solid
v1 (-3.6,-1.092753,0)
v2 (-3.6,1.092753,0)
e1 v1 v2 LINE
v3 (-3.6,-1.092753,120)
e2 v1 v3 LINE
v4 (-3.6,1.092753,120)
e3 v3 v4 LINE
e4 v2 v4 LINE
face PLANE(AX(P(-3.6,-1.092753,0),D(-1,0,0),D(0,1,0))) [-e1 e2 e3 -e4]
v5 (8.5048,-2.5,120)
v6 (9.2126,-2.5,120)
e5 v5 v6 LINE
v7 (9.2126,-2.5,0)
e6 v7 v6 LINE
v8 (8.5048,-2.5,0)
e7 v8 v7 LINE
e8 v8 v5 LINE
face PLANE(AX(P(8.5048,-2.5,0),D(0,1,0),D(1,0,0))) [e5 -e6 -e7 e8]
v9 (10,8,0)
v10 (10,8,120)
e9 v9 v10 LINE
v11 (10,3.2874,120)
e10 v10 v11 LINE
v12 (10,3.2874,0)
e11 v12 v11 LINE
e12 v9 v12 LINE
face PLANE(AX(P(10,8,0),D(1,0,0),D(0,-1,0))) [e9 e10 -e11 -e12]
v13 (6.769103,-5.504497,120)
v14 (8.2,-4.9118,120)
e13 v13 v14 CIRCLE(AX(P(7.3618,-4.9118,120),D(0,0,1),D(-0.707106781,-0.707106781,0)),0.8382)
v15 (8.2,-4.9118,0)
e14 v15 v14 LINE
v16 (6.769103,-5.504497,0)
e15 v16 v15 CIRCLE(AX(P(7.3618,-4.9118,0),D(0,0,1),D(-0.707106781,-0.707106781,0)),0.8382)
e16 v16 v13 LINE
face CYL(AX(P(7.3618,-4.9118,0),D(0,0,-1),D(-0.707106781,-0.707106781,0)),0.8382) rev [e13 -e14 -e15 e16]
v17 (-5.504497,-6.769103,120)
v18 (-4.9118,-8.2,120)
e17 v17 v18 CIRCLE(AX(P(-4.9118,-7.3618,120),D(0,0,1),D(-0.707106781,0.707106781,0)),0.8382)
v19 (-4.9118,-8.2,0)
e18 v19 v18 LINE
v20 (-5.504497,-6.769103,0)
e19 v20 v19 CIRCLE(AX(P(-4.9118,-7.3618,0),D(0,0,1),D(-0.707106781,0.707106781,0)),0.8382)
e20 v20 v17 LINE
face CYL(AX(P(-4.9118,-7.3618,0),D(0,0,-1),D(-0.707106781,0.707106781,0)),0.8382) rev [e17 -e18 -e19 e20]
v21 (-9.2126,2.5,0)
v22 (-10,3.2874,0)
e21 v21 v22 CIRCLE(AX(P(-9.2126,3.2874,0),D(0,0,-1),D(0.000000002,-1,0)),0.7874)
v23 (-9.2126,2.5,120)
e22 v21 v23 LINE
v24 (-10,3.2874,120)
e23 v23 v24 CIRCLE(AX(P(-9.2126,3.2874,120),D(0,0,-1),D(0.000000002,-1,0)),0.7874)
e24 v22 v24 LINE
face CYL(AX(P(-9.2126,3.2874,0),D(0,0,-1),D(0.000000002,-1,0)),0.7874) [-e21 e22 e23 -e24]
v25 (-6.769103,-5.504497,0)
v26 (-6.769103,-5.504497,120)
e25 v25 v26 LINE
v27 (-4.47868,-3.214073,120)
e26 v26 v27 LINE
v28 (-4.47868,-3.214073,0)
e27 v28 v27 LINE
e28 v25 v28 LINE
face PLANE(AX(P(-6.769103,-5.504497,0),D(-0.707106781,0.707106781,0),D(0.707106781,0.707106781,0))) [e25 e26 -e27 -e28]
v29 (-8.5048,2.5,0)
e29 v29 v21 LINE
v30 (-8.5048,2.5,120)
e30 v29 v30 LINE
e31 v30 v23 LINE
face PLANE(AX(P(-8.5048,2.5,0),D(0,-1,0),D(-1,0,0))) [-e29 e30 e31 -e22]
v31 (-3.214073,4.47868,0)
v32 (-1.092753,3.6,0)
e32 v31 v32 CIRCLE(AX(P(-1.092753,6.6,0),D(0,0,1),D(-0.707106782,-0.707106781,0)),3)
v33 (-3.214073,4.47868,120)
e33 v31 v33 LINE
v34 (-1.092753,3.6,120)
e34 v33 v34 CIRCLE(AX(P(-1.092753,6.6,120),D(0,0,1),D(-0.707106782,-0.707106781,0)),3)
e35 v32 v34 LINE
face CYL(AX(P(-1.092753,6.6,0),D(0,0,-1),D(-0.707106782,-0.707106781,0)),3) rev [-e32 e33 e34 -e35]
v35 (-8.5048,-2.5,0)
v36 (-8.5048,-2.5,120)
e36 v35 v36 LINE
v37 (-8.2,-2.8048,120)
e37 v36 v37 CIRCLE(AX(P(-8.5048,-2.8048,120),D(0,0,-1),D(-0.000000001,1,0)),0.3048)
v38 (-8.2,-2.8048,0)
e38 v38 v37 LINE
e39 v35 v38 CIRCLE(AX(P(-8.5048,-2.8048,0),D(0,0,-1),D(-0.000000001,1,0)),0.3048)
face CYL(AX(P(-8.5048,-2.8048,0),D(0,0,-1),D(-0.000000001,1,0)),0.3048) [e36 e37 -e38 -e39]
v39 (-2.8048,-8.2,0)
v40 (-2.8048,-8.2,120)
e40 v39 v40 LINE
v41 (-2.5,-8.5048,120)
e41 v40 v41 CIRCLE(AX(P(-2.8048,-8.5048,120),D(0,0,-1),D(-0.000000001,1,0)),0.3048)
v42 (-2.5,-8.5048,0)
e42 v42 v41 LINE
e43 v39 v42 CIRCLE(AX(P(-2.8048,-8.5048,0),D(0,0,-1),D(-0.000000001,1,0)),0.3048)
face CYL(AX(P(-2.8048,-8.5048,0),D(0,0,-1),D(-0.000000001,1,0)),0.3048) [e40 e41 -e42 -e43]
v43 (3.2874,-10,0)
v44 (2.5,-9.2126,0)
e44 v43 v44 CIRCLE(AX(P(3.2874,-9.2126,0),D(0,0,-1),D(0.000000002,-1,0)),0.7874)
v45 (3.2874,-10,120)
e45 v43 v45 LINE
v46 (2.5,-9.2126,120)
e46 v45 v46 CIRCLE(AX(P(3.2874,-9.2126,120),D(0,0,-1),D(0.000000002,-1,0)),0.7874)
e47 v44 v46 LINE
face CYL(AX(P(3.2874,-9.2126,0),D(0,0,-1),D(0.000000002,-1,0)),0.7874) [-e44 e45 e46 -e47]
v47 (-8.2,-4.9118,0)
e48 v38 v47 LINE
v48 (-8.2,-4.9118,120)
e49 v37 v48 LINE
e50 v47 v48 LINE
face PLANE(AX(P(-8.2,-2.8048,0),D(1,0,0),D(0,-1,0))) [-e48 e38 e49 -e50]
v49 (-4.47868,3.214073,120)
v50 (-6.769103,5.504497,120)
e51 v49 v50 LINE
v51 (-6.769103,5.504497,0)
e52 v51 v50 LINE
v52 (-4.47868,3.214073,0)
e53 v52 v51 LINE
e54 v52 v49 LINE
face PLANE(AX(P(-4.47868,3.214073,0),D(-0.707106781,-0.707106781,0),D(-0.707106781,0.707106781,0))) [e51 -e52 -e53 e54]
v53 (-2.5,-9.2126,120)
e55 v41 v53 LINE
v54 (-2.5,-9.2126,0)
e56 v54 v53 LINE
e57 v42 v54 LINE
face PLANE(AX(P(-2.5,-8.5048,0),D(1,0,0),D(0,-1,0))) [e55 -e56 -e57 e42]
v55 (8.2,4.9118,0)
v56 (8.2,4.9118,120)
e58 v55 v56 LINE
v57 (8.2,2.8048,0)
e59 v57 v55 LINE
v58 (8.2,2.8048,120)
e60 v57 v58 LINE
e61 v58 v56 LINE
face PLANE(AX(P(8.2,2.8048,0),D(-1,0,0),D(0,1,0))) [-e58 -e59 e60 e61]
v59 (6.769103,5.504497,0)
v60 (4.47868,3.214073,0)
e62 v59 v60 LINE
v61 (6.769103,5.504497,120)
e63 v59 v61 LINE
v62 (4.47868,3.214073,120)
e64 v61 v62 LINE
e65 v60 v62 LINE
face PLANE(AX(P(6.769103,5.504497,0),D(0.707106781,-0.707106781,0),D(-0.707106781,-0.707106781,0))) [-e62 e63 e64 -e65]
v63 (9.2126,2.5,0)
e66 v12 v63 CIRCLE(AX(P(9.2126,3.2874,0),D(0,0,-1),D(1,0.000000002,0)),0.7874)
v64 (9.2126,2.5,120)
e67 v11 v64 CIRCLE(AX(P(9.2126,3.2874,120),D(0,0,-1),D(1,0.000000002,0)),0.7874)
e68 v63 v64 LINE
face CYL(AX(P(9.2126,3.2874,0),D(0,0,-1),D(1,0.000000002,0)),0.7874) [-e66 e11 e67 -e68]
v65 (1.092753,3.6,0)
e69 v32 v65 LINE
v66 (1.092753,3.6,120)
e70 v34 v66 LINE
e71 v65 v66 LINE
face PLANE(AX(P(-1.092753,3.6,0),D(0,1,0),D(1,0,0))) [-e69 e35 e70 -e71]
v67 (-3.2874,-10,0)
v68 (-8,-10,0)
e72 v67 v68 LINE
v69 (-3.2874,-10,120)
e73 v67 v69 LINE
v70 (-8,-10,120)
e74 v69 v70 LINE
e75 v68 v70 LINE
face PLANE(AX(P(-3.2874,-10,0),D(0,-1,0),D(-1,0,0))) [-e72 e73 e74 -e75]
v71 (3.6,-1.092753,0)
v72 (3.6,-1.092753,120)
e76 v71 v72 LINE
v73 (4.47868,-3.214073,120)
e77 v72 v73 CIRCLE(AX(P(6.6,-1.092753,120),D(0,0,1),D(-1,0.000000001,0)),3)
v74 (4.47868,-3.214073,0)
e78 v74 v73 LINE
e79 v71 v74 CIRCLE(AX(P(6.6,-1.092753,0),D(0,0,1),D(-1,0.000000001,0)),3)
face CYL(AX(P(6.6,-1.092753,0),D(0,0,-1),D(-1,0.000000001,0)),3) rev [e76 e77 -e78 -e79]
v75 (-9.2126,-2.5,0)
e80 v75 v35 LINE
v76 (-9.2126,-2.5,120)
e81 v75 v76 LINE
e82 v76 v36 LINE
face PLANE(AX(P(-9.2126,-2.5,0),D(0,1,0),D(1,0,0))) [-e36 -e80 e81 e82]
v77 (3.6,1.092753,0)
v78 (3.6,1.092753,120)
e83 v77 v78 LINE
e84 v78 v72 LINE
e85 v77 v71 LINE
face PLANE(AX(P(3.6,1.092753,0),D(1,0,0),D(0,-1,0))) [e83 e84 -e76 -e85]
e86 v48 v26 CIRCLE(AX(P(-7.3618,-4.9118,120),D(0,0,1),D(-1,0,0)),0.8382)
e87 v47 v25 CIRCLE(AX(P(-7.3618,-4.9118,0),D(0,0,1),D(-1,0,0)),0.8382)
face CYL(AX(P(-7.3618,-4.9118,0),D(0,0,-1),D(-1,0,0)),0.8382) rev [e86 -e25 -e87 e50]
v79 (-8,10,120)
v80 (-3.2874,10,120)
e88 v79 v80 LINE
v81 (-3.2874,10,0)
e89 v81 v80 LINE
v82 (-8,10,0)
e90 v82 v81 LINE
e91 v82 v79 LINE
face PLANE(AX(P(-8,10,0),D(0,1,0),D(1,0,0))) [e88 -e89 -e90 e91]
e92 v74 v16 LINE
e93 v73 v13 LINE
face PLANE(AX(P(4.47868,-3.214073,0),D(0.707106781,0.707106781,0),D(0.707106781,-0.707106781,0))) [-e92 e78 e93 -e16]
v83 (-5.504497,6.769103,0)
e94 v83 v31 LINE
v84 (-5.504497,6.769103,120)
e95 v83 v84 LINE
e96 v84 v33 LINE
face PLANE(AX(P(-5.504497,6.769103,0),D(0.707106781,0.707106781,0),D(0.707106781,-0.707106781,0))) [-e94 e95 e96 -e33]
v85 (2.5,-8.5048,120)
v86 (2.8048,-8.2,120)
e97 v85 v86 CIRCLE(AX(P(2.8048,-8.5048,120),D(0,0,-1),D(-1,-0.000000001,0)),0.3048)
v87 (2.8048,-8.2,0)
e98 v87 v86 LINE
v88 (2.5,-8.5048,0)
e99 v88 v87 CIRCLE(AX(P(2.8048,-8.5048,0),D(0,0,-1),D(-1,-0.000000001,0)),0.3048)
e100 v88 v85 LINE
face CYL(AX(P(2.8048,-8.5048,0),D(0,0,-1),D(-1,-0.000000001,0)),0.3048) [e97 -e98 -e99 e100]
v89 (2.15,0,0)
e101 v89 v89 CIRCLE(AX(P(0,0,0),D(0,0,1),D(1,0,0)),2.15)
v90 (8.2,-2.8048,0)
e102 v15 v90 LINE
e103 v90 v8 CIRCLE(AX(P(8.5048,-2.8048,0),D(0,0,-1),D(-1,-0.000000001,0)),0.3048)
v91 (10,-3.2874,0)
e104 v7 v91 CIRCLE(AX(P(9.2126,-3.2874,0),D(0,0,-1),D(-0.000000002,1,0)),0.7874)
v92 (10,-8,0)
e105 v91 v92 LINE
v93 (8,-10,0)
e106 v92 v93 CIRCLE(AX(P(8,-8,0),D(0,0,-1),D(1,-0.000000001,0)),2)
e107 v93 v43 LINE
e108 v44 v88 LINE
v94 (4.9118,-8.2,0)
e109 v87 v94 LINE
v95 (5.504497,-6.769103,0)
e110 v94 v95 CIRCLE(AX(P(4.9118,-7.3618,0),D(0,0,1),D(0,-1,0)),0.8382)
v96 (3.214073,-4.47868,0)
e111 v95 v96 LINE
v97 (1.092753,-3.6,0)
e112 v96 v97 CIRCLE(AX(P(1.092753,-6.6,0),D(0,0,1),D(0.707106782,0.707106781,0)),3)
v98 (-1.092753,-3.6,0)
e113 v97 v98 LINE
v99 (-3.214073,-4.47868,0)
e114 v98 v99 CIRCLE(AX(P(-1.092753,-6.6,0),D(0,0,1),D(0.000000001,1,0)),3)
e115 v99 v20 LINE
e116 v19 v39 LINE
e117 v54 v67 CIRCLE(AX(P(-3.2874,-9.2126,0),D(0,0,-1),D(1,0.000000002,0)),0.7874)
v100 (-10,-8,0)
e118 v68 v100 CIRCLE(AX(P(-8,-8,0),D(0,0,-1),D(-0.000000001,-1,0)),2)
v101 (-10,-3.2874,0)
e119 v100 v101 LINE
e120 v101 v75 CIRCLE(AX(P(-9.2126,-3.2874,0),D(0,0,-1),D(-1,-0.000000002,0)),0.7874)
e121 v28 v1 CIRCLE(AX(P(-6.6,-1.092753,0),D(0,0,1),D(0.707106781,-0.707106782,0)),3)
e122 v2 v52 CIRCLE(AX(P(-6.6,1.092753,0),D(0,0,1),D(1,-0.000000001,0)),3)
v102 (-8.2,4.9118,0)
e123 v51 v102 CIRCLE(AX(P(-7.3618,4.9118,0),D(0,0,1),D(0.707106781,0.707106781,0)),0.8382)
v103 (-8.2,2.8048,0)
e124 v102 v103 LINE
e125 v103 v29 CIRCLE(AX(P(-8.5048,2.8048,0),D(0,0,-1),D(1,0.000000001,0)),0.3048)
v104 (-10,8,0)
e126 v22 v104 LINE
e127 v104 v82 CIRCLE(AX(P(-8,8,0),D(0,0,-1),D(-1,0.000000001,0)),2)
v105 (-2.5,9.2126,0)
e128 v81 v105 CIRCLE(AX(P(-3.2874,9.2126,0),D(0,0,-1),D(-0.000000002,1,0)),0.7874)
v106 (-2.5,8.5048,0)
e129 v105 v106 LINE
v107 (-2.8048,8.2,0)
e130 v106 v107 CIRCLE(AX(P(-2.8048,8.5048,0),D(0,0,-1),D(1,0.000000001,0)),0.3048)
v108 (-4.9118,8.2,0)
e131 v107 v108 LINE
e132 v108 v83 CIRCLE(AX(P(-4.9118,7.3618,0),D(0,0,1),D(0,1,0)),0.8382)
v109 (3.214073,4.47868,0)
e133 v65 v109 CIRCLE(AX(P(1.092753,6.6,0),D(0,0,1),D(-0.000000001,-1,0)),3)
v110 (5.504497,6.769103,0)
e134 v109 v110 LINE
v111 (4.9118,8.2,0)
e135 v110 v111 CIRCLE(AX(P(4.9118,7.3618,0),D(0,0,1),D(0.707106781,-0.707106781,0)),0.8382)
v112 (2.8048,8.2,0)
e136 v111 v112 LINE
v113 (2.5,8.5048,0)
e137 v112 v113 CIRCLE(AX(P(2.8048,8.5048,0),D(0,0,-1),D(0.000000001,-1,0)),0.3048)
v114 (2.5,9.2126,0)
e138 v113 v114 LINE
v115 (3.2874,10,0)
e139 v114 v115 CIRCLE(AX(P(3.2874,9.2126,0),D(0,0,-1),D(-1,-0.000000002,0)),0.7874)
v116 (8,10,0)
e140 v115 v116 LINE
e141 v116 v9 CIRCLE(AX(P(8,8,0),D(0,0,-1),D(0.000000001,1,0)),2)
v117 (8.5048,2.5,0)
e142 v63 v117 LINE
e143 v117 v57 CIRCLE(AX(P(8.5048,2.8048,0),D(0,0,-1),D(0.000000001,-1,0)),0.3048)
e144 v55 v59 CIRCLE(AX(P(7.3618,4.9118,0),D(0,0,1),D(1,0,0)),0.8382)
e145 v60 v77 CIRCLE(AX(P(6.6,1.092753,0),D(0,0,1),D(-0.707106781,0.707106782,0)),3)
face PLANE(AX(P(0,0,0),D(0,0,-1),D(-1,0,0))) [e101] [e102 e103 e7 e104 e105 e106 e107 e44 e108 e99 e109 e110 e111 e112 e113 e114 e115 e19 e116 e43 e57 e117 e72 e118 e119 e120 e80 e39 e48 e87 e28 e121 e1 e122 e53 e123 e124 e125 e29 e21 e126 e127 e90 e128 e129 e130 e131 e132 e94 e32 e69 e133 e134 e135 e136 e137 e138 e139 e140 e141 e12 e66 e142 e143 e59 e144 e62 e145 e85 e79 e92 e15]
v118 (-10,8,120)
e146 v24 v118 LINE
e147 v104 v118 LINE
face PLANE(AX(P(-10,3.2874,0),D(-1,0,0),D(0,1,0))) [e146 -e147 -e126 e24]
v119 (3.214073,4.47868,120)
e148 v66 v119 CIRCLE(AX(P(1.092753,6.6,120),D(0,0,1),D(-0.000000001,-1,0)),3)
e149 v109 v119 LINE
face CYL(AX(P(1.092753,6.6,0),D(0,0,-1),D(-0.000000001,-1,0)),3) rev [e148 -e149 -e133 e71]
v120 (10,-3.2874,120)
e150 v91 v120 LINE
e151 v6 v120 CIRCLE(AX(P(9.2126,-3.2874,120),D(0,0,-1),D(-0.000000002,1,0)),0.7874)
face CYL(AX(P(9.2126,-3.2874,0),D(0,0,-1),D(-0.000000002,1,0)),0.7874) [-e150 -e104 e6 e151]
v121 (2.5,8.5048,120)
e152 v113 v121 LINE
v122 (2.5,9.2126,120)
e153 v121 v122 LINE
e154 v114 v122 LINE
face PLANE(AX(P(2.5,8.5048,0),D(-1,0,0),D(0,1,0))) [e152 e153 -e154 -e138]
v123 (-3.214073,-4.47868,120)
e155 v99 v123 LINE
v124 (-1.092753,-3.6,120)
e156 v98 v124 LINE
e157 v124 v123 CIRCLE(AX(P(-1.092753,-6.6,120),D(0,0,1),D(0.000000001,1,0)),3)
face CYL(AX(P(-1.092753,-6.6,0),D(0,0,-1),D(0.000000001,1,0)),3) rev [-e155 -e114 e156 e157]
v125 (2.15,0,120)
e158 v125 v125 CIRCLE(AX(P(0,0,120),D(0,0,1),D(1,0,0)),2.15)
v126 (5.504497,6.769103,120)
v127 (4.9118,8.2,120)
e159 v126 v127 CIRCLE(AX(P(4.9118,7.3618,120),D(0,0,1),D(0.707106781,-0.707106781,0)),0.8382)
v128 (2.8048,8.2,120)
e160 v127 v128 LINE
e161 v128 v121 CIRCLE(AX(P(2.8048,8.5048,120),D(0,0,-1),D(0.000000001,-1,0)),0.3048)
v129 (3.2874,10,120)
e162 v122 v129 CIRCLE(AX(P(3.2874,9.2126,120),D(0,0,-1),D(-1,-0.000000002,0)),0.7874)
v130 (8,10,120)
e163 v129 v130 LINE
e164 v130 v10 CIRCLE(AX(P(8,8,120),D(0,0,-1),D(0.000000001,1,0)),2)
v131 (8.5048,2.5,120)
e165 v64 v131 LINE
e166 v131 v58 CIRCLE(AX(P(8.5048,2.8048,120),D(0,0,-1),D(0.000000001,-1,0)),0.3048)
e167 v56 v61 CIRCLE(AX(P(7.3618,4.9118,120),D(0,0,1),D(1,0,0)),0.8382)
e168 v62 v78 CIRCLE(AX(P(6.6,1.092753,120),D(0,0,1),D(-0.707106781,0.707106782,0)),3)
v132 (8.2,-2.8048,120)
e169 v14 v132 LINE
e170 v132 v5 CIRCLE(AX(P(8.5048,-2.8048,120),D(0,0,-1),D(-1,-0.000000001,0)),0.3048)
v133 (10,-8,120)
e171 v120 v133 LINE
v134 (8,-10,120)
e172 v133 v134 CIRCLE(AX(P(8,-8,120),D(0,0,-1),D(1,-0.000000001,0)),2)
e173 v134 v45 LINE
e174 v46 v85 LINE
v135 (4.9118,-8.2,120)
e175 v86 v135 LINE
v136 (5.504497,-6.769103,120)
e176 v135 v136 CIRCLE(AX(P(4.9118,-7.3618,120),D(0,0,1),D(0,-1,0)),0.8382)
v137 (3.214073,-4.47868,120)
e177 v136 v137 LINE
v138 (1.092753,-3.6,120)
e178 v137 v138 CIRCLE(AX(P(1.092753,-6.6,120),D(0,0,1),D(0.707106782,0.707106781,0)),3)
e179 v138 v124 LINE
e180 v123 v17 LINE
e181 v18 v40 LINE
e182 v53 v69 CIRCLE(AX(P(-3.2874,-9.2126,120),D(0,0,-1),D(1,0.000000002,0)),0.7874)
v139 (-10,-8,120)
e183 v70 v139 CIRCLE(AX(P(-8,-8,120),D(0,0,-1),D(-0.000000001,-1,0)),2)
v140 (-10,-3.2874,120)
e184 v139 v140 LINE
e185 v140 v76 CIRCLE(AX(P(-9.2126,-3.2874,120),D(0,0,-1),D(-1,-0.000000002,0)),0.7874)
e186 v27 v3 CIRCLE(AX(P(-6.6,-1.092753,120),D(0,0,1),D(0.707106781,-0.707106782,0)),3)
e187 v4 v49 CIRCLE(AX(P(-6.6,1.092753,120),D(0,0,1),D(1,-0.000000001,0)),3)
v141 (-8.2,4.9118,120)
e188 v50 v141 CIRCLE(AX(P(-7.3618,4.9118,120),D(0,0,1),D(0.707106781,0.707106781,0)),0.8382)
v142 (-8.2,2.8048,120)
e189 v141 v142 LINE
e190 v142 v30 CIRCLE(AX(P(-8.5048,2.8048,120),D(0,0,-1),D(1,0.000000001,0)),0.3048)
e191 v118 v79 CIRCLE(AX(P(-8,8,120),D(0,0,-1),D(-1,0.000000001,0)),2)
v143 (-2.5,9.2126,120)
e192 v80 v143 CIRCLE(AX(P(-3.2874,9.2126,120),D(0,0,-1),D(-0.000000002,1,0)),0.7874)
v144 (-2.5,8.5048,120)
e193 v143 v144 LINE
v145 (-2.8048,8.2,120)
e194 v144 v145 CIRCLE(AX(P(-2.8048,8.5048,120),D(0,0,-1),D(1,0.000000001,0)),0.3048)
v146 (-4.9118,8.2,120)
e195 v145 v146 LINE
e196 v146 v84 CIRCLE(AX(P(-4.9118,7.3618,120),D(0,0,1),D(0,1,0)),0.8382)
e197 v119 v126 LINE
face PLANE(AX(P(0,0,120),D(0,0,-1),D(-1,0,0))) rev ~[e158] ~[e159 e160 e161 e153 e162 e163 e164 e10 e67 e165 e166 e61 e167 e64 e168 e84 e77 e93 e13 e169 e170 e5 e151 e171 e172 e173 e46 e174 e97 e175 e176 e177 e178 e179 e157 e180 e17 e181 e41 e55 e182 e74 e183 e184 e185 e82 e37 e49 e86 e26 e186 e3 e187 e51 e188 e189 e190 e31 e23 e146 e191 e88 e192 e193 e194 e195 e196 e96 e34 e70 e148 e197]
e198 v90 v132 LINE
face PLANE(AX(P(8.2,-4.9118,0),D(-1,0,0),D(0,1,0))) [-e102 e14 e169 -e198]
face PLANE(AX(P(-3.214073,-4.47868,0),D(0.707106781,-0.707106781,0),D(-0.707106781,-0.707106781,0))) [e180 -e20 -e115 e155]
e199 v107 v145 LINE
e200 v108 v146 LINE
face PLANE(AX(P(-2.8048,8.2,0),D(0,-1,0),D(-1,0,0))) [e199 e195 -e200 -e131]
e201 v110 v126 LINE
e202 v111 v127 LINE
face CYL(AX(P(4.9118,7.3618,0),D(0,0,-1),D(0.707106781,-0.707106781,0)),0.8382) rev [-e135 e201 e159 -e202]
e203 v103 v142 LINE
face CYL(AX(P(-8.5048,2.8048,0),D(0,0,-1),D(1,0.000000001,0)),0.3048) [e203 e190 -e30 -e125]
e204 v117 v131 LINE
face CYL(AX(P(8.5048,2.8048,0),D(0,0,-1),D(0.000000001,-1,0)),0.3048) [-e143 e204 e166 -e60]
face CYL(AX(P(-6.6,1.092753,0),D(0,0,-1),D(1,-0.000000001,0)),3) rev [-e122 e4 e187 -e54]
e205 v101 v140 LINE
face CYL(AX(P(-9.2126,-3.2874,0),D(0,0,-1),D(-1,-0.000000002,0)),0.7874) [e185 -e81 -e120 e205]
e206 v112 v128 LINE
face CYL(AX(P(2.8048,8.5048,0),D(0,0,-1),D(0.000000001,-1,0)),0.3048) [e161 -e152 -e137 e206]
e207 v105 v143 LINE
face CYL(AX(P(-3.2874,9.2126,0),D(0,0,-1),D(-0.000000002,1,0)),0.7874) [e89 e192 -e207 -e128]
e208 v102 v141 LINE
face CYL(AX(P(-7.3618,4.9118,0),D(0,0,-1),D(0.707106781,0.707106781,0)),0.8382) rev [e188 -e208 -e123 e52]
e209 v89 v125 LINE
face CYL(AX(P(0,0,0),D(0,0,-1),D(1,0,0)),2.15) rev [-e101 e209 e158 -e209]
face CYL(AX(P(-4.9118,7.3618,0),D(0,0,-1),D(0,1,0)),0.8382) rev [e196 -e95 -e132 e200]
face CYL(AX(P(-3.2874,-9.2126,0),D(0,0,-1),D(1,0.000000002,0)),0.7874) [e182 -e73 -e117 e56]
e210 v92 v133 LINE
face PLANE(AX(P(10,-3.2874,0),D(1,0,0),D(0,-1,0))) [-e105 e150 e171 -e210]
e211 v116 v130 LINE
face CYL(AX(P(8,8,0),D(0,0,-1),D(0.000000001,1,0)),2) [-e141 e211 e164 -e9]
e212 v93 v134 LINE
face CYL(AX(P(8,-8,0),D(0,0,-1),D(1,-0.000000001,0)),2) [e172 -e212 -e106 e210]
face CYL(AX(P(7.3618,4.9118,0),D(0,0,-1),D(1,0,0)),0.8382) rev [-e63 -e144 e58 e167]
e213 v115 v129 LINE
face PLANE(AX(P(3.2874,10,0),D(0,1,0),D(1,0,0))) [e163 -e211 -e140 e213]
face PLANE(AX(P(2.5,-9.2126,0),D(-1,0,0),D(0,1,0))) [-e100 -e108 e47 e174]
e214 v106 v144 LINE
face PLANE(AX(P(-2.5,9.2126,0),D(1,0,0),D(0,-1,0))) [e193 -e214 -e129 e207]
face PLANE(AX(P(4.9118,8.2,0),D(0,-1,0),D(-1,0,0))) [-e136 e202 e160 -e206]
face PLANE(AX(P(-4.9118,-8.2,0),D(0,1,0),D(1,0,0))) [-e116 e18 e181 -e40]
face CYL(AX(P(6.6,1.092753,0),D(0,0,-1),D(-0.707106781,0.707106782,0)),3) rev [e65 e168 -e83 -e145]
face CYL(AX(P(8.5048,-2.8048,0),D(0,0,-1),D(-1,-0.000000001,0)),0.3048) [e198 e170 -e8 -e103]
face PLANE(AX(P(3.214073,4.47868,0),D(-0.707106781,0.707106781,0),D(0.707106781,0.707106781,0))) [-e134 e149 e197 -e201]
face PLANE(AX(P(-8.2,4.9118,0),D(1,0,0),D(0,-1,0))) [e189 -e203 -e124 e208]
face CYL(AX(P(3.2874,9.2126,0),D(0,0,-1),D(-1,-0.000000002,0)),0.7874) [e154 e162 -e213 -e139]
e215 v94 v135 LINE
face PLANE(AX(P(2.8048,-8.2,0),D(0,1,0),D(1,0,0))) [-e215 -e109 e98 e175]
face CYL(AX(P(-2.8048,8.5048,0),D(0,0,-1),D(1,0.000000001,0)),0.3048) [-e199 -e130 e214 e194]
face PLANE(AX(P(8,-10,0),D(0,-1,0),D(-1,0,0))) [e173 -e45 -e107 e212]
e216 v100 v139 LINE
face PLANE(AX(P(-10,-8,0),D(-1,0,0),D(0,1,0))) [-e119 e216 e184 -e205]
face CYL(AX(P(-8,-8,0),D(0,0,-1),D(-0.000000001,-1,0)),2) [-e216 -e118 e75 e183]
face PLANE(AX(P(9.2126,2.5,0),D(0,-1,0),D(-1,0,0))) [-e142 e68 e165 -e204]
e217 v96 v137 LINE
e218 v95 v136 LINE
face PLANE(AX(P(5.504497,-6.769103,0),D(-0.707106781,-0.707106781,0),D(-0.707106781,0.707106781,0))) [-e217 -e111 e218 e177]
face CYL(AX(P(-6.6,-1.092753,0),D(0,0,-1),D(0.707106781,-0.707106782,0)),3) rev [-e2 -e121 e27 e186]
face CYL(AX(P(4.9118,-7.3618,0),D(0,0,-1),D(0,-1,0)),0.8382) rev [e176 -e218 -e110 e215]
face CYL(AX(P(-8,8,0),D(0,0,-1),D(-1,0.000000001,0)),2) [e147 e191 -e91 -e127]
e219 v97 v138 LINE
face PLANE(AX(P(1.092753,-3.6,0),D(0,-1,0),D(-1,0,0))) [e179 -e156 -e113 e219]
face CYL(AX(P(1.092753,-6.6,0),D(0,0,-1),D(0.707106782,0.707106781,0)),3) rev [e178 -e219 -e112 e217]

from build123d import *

# Parameters (mm, degrees)
SKETCH3_R           = 2.15
BOSS_EXTRUDE1_DEPTH = 120


with BuildPart() as part:
    # Sketch3 → Boss-Extrude1 (new body)
    with BuildSketch(Plane.XY):
        with BuildLine():
            Line((3.2874, 10), (8, 10))
            ThreePointArc((8, 10), (9.414213562, 9.414213562), (10, 8))
            Line((10, 8), (10, 3.2874))
            ThreePointArc((10, 3.2874), (9.76937588, 2.73062412), (9.2126, 2.5))
            Line((9.2126, 2.5), (8.5048, 2.5))
            ThreePointArc((8.5048, 2.5), (8.289273853, 2.589273853), (8.2, 2.8048))
            Line((8.2, 2.8048), (8.2, 4.9118))
            ThreePointArc((8.2, 4.9118), (7.682565253, 5.686195824), (6.769103096, 5.504496904))
            Line((6.769103096, 5.504496904), (4.478679656, 3.214073464))
            ThreePointArc((4.478679656, 3.214073464), (3.828361402, 2.240803418), (3.6, 1.092753121))
            Line((3.6, 1.092753121), (3.6, -1.092753121))
            ThreePointArc((3.6, -1.092753121), (3.828361402, -2.240803418), (4.478679656, -3.214073464))
            Line((4.478679656, -3.214073464), (6.769103096, -5.504496904))
            ThreePointArc((6.769103096, -5.504496904), (7.682565253, -5.686195824), (8.2, -4.9118))
            Line((8.2, -4.9118), (8.2, -2.8048))
            ThreePointArc((8.2, -2.8048), (8.289273853, -2.589273853), (8.5048, -2.5))
            Line((8.5048, -2.5), (9.2126, -2.5))
            ThreePointArc((9.2126, -2.5), (9.76937588, -2.73062412), (10, -3.2874))
            Line((10, -3.2874), (10, -8))
            ThreePointArc((10, -8), (9.414213562, -9.414213562), (8, -10))
            Line((8, -10), (3.2874, -10))
            ThreePointArc((3.2874, -10), (2.73062412, -9.76937588), (2.5, -9.2126))
            Line((2.5, -9.2126), (2.5, -8.5048))
            ThreePointArc((2.5, -8.5048), (2.589273853, -8.289273853), (2.8048, -8.2))
            Line((2.8048, -8.2), (4.9118, -8.2))
            ThreePointArc((4.9118, -8.2), (5.686195824, -7.682565253), (5.504496904, -6.769103096))
            Line((5.504496904, -6.769103096), (3.214073464, -4.478679656))
            ThreePointArc((3.214073464, -4.478679656), (2.240803418, -3.828361402), (1.092753121, -3.6))
            Line((1.092753121, -3.6), (-1.092753121, -3.6))
            ThreePointArc((-1.092753121, -3.6), (-2.240803418, -3.828361402), (-3.214073464, -4.478679656))
            Line((-3.214073464, -4.478679656), (-5.504496904, -6.769103096))
            ThreePointArc((-5.504496904, -6.769103096), (-5.686195824, -7.682565253), (-4.9118, -8.2))
            Line((-4.9118, -8.2), (-2.8048, -8.2))
            ThreePointArc((-2.8048, -8.2), (-2.589273853, -8.289273853), (-2.5, -8.5048))
            Line((-2.5, -8.5048), (-2.5, -9.2126))
            ThreePointArc((-2.5, -9.2126), (-2.73062412, -9.76937588), (-3.2874, -10))
            Line((-3.2874, -10), (-8, -10))
            ThreePointArc((-8, -10), (-9.414213562, -9.414213562), (-10, -8))
            Line((-10, -8), (-10, -3.2874))
            ThreePointArc((-10, -3.2874), (-9.76937588, -2.73062412), (-9.2126, -2.5))
            Line((-9.2126, -2.5), (-8.5048, -2.5))
            ThreePointArc((-8.5048, -2.5), (-8.289273853, -2.589273853), (-8.2, -2.8048))
            Line((-8.2, -2.8048), (-8.2, -4.9118))
            ThreePointArc((-8.2, -4.9118), (-7.682565253, -5.686195824), (-6.769103096, -5.504496904))
            Line((-6.769103096, -5.504496904), (-4.478679656, -3.214073464))
            ThreePointArc((-4.478679656, -3.214073464), (-3.828361402, -2.240803418), (-3.6, -1.092753121))
            Line((-3.6, -1.092753121), (-3.6, 1.092753121))
            ThreePointArc((-3.6, 1.092753121), (-3.828361402, 2.240803418), (-4.478679656, 3.214073464))
            Line((-4.478679656, 3.214073464), (-6.769103096, 5.504496904))
            ThreePointArc((-6.769103096, 5.504496904), (-7.682565253, 5.686195824), (-8.2, 4.9118))
            Line((-8.2, 4.9118), (-8.2, 2.8048))
            ThreePointArc((-8.2, 2.8048), (-8.289273853, 2.589273853), (-8.5048, 2.5))
            Line((-8.5048, 2.5), (-9.2126, 2.5))
            ThreePointArc((-9.2126, 2.5), (-9.76937588, 2.73062412), (-10, 3.2874))
            Line((-10, 3.2874), (-10, 8))
            ThreePointArc((-10, 8), (-9.414213562, 9.414213562), (-8, 10))
            Line((-8, 10), (-3.2874, 10))
            ThreePointArc((-3.2874, 10), (-2.73062412, 9.76937588), (-2.5, 9.2126))
            Line((-2.5, 9.2126), (-2.5, 8.5048))
            ThreePointArc((-2.5, 8.5048), (-2.589273853, 8.289273853), (-2.8048, 8.2))
            Line((-2.8048, 8.2), (-4.9118, 8.2))
            ThreePointArc((-4.9118, 8.2), (-5.686195824, 7.682565253), (-5.504496904, 6.769103096))
            Line((-5.504496904, 6.769103096), (-3.214073464, 4.478679656))
            ThreePointArc((-3.214073464, 4.478679656), (-2.240803418, 3.828361402), (-1.092753121, 3.6))
            Line((-1.092753121, 3.6), (1.092753121, 3.6))
            ThreePointArc((1.092753121, 3.6), (2.240803418, 3.828361402), (3.214073464, 4.478679656))
            Line((3.214073464, 4.478679656), (5.504496904, 6.769103096))
            ThreePointArc((5.504496904, 6.769103096), (5.686195824, 7.682565253), (4.9118, 8.2))
            Line((4.9118, 8.2), (2.8048, 8.2))
            ThreePointArc((2.8048, 8.2), (2.589273853, 8.289273853), (2.5, 8.5048))
            Line((2.5, 8.5048), (2.5, 9.2126))
            ThreePointArc((2.5, 9.2126), (2.73062412, 9.76937588), (3.2874, 10))
        make_face()
        Circle(SKETCH3_R, mode=Mode.SUBTRACT)
    extrude(amount=BOSS_EXTRUDE1_DEPTH)


solid = part.part
